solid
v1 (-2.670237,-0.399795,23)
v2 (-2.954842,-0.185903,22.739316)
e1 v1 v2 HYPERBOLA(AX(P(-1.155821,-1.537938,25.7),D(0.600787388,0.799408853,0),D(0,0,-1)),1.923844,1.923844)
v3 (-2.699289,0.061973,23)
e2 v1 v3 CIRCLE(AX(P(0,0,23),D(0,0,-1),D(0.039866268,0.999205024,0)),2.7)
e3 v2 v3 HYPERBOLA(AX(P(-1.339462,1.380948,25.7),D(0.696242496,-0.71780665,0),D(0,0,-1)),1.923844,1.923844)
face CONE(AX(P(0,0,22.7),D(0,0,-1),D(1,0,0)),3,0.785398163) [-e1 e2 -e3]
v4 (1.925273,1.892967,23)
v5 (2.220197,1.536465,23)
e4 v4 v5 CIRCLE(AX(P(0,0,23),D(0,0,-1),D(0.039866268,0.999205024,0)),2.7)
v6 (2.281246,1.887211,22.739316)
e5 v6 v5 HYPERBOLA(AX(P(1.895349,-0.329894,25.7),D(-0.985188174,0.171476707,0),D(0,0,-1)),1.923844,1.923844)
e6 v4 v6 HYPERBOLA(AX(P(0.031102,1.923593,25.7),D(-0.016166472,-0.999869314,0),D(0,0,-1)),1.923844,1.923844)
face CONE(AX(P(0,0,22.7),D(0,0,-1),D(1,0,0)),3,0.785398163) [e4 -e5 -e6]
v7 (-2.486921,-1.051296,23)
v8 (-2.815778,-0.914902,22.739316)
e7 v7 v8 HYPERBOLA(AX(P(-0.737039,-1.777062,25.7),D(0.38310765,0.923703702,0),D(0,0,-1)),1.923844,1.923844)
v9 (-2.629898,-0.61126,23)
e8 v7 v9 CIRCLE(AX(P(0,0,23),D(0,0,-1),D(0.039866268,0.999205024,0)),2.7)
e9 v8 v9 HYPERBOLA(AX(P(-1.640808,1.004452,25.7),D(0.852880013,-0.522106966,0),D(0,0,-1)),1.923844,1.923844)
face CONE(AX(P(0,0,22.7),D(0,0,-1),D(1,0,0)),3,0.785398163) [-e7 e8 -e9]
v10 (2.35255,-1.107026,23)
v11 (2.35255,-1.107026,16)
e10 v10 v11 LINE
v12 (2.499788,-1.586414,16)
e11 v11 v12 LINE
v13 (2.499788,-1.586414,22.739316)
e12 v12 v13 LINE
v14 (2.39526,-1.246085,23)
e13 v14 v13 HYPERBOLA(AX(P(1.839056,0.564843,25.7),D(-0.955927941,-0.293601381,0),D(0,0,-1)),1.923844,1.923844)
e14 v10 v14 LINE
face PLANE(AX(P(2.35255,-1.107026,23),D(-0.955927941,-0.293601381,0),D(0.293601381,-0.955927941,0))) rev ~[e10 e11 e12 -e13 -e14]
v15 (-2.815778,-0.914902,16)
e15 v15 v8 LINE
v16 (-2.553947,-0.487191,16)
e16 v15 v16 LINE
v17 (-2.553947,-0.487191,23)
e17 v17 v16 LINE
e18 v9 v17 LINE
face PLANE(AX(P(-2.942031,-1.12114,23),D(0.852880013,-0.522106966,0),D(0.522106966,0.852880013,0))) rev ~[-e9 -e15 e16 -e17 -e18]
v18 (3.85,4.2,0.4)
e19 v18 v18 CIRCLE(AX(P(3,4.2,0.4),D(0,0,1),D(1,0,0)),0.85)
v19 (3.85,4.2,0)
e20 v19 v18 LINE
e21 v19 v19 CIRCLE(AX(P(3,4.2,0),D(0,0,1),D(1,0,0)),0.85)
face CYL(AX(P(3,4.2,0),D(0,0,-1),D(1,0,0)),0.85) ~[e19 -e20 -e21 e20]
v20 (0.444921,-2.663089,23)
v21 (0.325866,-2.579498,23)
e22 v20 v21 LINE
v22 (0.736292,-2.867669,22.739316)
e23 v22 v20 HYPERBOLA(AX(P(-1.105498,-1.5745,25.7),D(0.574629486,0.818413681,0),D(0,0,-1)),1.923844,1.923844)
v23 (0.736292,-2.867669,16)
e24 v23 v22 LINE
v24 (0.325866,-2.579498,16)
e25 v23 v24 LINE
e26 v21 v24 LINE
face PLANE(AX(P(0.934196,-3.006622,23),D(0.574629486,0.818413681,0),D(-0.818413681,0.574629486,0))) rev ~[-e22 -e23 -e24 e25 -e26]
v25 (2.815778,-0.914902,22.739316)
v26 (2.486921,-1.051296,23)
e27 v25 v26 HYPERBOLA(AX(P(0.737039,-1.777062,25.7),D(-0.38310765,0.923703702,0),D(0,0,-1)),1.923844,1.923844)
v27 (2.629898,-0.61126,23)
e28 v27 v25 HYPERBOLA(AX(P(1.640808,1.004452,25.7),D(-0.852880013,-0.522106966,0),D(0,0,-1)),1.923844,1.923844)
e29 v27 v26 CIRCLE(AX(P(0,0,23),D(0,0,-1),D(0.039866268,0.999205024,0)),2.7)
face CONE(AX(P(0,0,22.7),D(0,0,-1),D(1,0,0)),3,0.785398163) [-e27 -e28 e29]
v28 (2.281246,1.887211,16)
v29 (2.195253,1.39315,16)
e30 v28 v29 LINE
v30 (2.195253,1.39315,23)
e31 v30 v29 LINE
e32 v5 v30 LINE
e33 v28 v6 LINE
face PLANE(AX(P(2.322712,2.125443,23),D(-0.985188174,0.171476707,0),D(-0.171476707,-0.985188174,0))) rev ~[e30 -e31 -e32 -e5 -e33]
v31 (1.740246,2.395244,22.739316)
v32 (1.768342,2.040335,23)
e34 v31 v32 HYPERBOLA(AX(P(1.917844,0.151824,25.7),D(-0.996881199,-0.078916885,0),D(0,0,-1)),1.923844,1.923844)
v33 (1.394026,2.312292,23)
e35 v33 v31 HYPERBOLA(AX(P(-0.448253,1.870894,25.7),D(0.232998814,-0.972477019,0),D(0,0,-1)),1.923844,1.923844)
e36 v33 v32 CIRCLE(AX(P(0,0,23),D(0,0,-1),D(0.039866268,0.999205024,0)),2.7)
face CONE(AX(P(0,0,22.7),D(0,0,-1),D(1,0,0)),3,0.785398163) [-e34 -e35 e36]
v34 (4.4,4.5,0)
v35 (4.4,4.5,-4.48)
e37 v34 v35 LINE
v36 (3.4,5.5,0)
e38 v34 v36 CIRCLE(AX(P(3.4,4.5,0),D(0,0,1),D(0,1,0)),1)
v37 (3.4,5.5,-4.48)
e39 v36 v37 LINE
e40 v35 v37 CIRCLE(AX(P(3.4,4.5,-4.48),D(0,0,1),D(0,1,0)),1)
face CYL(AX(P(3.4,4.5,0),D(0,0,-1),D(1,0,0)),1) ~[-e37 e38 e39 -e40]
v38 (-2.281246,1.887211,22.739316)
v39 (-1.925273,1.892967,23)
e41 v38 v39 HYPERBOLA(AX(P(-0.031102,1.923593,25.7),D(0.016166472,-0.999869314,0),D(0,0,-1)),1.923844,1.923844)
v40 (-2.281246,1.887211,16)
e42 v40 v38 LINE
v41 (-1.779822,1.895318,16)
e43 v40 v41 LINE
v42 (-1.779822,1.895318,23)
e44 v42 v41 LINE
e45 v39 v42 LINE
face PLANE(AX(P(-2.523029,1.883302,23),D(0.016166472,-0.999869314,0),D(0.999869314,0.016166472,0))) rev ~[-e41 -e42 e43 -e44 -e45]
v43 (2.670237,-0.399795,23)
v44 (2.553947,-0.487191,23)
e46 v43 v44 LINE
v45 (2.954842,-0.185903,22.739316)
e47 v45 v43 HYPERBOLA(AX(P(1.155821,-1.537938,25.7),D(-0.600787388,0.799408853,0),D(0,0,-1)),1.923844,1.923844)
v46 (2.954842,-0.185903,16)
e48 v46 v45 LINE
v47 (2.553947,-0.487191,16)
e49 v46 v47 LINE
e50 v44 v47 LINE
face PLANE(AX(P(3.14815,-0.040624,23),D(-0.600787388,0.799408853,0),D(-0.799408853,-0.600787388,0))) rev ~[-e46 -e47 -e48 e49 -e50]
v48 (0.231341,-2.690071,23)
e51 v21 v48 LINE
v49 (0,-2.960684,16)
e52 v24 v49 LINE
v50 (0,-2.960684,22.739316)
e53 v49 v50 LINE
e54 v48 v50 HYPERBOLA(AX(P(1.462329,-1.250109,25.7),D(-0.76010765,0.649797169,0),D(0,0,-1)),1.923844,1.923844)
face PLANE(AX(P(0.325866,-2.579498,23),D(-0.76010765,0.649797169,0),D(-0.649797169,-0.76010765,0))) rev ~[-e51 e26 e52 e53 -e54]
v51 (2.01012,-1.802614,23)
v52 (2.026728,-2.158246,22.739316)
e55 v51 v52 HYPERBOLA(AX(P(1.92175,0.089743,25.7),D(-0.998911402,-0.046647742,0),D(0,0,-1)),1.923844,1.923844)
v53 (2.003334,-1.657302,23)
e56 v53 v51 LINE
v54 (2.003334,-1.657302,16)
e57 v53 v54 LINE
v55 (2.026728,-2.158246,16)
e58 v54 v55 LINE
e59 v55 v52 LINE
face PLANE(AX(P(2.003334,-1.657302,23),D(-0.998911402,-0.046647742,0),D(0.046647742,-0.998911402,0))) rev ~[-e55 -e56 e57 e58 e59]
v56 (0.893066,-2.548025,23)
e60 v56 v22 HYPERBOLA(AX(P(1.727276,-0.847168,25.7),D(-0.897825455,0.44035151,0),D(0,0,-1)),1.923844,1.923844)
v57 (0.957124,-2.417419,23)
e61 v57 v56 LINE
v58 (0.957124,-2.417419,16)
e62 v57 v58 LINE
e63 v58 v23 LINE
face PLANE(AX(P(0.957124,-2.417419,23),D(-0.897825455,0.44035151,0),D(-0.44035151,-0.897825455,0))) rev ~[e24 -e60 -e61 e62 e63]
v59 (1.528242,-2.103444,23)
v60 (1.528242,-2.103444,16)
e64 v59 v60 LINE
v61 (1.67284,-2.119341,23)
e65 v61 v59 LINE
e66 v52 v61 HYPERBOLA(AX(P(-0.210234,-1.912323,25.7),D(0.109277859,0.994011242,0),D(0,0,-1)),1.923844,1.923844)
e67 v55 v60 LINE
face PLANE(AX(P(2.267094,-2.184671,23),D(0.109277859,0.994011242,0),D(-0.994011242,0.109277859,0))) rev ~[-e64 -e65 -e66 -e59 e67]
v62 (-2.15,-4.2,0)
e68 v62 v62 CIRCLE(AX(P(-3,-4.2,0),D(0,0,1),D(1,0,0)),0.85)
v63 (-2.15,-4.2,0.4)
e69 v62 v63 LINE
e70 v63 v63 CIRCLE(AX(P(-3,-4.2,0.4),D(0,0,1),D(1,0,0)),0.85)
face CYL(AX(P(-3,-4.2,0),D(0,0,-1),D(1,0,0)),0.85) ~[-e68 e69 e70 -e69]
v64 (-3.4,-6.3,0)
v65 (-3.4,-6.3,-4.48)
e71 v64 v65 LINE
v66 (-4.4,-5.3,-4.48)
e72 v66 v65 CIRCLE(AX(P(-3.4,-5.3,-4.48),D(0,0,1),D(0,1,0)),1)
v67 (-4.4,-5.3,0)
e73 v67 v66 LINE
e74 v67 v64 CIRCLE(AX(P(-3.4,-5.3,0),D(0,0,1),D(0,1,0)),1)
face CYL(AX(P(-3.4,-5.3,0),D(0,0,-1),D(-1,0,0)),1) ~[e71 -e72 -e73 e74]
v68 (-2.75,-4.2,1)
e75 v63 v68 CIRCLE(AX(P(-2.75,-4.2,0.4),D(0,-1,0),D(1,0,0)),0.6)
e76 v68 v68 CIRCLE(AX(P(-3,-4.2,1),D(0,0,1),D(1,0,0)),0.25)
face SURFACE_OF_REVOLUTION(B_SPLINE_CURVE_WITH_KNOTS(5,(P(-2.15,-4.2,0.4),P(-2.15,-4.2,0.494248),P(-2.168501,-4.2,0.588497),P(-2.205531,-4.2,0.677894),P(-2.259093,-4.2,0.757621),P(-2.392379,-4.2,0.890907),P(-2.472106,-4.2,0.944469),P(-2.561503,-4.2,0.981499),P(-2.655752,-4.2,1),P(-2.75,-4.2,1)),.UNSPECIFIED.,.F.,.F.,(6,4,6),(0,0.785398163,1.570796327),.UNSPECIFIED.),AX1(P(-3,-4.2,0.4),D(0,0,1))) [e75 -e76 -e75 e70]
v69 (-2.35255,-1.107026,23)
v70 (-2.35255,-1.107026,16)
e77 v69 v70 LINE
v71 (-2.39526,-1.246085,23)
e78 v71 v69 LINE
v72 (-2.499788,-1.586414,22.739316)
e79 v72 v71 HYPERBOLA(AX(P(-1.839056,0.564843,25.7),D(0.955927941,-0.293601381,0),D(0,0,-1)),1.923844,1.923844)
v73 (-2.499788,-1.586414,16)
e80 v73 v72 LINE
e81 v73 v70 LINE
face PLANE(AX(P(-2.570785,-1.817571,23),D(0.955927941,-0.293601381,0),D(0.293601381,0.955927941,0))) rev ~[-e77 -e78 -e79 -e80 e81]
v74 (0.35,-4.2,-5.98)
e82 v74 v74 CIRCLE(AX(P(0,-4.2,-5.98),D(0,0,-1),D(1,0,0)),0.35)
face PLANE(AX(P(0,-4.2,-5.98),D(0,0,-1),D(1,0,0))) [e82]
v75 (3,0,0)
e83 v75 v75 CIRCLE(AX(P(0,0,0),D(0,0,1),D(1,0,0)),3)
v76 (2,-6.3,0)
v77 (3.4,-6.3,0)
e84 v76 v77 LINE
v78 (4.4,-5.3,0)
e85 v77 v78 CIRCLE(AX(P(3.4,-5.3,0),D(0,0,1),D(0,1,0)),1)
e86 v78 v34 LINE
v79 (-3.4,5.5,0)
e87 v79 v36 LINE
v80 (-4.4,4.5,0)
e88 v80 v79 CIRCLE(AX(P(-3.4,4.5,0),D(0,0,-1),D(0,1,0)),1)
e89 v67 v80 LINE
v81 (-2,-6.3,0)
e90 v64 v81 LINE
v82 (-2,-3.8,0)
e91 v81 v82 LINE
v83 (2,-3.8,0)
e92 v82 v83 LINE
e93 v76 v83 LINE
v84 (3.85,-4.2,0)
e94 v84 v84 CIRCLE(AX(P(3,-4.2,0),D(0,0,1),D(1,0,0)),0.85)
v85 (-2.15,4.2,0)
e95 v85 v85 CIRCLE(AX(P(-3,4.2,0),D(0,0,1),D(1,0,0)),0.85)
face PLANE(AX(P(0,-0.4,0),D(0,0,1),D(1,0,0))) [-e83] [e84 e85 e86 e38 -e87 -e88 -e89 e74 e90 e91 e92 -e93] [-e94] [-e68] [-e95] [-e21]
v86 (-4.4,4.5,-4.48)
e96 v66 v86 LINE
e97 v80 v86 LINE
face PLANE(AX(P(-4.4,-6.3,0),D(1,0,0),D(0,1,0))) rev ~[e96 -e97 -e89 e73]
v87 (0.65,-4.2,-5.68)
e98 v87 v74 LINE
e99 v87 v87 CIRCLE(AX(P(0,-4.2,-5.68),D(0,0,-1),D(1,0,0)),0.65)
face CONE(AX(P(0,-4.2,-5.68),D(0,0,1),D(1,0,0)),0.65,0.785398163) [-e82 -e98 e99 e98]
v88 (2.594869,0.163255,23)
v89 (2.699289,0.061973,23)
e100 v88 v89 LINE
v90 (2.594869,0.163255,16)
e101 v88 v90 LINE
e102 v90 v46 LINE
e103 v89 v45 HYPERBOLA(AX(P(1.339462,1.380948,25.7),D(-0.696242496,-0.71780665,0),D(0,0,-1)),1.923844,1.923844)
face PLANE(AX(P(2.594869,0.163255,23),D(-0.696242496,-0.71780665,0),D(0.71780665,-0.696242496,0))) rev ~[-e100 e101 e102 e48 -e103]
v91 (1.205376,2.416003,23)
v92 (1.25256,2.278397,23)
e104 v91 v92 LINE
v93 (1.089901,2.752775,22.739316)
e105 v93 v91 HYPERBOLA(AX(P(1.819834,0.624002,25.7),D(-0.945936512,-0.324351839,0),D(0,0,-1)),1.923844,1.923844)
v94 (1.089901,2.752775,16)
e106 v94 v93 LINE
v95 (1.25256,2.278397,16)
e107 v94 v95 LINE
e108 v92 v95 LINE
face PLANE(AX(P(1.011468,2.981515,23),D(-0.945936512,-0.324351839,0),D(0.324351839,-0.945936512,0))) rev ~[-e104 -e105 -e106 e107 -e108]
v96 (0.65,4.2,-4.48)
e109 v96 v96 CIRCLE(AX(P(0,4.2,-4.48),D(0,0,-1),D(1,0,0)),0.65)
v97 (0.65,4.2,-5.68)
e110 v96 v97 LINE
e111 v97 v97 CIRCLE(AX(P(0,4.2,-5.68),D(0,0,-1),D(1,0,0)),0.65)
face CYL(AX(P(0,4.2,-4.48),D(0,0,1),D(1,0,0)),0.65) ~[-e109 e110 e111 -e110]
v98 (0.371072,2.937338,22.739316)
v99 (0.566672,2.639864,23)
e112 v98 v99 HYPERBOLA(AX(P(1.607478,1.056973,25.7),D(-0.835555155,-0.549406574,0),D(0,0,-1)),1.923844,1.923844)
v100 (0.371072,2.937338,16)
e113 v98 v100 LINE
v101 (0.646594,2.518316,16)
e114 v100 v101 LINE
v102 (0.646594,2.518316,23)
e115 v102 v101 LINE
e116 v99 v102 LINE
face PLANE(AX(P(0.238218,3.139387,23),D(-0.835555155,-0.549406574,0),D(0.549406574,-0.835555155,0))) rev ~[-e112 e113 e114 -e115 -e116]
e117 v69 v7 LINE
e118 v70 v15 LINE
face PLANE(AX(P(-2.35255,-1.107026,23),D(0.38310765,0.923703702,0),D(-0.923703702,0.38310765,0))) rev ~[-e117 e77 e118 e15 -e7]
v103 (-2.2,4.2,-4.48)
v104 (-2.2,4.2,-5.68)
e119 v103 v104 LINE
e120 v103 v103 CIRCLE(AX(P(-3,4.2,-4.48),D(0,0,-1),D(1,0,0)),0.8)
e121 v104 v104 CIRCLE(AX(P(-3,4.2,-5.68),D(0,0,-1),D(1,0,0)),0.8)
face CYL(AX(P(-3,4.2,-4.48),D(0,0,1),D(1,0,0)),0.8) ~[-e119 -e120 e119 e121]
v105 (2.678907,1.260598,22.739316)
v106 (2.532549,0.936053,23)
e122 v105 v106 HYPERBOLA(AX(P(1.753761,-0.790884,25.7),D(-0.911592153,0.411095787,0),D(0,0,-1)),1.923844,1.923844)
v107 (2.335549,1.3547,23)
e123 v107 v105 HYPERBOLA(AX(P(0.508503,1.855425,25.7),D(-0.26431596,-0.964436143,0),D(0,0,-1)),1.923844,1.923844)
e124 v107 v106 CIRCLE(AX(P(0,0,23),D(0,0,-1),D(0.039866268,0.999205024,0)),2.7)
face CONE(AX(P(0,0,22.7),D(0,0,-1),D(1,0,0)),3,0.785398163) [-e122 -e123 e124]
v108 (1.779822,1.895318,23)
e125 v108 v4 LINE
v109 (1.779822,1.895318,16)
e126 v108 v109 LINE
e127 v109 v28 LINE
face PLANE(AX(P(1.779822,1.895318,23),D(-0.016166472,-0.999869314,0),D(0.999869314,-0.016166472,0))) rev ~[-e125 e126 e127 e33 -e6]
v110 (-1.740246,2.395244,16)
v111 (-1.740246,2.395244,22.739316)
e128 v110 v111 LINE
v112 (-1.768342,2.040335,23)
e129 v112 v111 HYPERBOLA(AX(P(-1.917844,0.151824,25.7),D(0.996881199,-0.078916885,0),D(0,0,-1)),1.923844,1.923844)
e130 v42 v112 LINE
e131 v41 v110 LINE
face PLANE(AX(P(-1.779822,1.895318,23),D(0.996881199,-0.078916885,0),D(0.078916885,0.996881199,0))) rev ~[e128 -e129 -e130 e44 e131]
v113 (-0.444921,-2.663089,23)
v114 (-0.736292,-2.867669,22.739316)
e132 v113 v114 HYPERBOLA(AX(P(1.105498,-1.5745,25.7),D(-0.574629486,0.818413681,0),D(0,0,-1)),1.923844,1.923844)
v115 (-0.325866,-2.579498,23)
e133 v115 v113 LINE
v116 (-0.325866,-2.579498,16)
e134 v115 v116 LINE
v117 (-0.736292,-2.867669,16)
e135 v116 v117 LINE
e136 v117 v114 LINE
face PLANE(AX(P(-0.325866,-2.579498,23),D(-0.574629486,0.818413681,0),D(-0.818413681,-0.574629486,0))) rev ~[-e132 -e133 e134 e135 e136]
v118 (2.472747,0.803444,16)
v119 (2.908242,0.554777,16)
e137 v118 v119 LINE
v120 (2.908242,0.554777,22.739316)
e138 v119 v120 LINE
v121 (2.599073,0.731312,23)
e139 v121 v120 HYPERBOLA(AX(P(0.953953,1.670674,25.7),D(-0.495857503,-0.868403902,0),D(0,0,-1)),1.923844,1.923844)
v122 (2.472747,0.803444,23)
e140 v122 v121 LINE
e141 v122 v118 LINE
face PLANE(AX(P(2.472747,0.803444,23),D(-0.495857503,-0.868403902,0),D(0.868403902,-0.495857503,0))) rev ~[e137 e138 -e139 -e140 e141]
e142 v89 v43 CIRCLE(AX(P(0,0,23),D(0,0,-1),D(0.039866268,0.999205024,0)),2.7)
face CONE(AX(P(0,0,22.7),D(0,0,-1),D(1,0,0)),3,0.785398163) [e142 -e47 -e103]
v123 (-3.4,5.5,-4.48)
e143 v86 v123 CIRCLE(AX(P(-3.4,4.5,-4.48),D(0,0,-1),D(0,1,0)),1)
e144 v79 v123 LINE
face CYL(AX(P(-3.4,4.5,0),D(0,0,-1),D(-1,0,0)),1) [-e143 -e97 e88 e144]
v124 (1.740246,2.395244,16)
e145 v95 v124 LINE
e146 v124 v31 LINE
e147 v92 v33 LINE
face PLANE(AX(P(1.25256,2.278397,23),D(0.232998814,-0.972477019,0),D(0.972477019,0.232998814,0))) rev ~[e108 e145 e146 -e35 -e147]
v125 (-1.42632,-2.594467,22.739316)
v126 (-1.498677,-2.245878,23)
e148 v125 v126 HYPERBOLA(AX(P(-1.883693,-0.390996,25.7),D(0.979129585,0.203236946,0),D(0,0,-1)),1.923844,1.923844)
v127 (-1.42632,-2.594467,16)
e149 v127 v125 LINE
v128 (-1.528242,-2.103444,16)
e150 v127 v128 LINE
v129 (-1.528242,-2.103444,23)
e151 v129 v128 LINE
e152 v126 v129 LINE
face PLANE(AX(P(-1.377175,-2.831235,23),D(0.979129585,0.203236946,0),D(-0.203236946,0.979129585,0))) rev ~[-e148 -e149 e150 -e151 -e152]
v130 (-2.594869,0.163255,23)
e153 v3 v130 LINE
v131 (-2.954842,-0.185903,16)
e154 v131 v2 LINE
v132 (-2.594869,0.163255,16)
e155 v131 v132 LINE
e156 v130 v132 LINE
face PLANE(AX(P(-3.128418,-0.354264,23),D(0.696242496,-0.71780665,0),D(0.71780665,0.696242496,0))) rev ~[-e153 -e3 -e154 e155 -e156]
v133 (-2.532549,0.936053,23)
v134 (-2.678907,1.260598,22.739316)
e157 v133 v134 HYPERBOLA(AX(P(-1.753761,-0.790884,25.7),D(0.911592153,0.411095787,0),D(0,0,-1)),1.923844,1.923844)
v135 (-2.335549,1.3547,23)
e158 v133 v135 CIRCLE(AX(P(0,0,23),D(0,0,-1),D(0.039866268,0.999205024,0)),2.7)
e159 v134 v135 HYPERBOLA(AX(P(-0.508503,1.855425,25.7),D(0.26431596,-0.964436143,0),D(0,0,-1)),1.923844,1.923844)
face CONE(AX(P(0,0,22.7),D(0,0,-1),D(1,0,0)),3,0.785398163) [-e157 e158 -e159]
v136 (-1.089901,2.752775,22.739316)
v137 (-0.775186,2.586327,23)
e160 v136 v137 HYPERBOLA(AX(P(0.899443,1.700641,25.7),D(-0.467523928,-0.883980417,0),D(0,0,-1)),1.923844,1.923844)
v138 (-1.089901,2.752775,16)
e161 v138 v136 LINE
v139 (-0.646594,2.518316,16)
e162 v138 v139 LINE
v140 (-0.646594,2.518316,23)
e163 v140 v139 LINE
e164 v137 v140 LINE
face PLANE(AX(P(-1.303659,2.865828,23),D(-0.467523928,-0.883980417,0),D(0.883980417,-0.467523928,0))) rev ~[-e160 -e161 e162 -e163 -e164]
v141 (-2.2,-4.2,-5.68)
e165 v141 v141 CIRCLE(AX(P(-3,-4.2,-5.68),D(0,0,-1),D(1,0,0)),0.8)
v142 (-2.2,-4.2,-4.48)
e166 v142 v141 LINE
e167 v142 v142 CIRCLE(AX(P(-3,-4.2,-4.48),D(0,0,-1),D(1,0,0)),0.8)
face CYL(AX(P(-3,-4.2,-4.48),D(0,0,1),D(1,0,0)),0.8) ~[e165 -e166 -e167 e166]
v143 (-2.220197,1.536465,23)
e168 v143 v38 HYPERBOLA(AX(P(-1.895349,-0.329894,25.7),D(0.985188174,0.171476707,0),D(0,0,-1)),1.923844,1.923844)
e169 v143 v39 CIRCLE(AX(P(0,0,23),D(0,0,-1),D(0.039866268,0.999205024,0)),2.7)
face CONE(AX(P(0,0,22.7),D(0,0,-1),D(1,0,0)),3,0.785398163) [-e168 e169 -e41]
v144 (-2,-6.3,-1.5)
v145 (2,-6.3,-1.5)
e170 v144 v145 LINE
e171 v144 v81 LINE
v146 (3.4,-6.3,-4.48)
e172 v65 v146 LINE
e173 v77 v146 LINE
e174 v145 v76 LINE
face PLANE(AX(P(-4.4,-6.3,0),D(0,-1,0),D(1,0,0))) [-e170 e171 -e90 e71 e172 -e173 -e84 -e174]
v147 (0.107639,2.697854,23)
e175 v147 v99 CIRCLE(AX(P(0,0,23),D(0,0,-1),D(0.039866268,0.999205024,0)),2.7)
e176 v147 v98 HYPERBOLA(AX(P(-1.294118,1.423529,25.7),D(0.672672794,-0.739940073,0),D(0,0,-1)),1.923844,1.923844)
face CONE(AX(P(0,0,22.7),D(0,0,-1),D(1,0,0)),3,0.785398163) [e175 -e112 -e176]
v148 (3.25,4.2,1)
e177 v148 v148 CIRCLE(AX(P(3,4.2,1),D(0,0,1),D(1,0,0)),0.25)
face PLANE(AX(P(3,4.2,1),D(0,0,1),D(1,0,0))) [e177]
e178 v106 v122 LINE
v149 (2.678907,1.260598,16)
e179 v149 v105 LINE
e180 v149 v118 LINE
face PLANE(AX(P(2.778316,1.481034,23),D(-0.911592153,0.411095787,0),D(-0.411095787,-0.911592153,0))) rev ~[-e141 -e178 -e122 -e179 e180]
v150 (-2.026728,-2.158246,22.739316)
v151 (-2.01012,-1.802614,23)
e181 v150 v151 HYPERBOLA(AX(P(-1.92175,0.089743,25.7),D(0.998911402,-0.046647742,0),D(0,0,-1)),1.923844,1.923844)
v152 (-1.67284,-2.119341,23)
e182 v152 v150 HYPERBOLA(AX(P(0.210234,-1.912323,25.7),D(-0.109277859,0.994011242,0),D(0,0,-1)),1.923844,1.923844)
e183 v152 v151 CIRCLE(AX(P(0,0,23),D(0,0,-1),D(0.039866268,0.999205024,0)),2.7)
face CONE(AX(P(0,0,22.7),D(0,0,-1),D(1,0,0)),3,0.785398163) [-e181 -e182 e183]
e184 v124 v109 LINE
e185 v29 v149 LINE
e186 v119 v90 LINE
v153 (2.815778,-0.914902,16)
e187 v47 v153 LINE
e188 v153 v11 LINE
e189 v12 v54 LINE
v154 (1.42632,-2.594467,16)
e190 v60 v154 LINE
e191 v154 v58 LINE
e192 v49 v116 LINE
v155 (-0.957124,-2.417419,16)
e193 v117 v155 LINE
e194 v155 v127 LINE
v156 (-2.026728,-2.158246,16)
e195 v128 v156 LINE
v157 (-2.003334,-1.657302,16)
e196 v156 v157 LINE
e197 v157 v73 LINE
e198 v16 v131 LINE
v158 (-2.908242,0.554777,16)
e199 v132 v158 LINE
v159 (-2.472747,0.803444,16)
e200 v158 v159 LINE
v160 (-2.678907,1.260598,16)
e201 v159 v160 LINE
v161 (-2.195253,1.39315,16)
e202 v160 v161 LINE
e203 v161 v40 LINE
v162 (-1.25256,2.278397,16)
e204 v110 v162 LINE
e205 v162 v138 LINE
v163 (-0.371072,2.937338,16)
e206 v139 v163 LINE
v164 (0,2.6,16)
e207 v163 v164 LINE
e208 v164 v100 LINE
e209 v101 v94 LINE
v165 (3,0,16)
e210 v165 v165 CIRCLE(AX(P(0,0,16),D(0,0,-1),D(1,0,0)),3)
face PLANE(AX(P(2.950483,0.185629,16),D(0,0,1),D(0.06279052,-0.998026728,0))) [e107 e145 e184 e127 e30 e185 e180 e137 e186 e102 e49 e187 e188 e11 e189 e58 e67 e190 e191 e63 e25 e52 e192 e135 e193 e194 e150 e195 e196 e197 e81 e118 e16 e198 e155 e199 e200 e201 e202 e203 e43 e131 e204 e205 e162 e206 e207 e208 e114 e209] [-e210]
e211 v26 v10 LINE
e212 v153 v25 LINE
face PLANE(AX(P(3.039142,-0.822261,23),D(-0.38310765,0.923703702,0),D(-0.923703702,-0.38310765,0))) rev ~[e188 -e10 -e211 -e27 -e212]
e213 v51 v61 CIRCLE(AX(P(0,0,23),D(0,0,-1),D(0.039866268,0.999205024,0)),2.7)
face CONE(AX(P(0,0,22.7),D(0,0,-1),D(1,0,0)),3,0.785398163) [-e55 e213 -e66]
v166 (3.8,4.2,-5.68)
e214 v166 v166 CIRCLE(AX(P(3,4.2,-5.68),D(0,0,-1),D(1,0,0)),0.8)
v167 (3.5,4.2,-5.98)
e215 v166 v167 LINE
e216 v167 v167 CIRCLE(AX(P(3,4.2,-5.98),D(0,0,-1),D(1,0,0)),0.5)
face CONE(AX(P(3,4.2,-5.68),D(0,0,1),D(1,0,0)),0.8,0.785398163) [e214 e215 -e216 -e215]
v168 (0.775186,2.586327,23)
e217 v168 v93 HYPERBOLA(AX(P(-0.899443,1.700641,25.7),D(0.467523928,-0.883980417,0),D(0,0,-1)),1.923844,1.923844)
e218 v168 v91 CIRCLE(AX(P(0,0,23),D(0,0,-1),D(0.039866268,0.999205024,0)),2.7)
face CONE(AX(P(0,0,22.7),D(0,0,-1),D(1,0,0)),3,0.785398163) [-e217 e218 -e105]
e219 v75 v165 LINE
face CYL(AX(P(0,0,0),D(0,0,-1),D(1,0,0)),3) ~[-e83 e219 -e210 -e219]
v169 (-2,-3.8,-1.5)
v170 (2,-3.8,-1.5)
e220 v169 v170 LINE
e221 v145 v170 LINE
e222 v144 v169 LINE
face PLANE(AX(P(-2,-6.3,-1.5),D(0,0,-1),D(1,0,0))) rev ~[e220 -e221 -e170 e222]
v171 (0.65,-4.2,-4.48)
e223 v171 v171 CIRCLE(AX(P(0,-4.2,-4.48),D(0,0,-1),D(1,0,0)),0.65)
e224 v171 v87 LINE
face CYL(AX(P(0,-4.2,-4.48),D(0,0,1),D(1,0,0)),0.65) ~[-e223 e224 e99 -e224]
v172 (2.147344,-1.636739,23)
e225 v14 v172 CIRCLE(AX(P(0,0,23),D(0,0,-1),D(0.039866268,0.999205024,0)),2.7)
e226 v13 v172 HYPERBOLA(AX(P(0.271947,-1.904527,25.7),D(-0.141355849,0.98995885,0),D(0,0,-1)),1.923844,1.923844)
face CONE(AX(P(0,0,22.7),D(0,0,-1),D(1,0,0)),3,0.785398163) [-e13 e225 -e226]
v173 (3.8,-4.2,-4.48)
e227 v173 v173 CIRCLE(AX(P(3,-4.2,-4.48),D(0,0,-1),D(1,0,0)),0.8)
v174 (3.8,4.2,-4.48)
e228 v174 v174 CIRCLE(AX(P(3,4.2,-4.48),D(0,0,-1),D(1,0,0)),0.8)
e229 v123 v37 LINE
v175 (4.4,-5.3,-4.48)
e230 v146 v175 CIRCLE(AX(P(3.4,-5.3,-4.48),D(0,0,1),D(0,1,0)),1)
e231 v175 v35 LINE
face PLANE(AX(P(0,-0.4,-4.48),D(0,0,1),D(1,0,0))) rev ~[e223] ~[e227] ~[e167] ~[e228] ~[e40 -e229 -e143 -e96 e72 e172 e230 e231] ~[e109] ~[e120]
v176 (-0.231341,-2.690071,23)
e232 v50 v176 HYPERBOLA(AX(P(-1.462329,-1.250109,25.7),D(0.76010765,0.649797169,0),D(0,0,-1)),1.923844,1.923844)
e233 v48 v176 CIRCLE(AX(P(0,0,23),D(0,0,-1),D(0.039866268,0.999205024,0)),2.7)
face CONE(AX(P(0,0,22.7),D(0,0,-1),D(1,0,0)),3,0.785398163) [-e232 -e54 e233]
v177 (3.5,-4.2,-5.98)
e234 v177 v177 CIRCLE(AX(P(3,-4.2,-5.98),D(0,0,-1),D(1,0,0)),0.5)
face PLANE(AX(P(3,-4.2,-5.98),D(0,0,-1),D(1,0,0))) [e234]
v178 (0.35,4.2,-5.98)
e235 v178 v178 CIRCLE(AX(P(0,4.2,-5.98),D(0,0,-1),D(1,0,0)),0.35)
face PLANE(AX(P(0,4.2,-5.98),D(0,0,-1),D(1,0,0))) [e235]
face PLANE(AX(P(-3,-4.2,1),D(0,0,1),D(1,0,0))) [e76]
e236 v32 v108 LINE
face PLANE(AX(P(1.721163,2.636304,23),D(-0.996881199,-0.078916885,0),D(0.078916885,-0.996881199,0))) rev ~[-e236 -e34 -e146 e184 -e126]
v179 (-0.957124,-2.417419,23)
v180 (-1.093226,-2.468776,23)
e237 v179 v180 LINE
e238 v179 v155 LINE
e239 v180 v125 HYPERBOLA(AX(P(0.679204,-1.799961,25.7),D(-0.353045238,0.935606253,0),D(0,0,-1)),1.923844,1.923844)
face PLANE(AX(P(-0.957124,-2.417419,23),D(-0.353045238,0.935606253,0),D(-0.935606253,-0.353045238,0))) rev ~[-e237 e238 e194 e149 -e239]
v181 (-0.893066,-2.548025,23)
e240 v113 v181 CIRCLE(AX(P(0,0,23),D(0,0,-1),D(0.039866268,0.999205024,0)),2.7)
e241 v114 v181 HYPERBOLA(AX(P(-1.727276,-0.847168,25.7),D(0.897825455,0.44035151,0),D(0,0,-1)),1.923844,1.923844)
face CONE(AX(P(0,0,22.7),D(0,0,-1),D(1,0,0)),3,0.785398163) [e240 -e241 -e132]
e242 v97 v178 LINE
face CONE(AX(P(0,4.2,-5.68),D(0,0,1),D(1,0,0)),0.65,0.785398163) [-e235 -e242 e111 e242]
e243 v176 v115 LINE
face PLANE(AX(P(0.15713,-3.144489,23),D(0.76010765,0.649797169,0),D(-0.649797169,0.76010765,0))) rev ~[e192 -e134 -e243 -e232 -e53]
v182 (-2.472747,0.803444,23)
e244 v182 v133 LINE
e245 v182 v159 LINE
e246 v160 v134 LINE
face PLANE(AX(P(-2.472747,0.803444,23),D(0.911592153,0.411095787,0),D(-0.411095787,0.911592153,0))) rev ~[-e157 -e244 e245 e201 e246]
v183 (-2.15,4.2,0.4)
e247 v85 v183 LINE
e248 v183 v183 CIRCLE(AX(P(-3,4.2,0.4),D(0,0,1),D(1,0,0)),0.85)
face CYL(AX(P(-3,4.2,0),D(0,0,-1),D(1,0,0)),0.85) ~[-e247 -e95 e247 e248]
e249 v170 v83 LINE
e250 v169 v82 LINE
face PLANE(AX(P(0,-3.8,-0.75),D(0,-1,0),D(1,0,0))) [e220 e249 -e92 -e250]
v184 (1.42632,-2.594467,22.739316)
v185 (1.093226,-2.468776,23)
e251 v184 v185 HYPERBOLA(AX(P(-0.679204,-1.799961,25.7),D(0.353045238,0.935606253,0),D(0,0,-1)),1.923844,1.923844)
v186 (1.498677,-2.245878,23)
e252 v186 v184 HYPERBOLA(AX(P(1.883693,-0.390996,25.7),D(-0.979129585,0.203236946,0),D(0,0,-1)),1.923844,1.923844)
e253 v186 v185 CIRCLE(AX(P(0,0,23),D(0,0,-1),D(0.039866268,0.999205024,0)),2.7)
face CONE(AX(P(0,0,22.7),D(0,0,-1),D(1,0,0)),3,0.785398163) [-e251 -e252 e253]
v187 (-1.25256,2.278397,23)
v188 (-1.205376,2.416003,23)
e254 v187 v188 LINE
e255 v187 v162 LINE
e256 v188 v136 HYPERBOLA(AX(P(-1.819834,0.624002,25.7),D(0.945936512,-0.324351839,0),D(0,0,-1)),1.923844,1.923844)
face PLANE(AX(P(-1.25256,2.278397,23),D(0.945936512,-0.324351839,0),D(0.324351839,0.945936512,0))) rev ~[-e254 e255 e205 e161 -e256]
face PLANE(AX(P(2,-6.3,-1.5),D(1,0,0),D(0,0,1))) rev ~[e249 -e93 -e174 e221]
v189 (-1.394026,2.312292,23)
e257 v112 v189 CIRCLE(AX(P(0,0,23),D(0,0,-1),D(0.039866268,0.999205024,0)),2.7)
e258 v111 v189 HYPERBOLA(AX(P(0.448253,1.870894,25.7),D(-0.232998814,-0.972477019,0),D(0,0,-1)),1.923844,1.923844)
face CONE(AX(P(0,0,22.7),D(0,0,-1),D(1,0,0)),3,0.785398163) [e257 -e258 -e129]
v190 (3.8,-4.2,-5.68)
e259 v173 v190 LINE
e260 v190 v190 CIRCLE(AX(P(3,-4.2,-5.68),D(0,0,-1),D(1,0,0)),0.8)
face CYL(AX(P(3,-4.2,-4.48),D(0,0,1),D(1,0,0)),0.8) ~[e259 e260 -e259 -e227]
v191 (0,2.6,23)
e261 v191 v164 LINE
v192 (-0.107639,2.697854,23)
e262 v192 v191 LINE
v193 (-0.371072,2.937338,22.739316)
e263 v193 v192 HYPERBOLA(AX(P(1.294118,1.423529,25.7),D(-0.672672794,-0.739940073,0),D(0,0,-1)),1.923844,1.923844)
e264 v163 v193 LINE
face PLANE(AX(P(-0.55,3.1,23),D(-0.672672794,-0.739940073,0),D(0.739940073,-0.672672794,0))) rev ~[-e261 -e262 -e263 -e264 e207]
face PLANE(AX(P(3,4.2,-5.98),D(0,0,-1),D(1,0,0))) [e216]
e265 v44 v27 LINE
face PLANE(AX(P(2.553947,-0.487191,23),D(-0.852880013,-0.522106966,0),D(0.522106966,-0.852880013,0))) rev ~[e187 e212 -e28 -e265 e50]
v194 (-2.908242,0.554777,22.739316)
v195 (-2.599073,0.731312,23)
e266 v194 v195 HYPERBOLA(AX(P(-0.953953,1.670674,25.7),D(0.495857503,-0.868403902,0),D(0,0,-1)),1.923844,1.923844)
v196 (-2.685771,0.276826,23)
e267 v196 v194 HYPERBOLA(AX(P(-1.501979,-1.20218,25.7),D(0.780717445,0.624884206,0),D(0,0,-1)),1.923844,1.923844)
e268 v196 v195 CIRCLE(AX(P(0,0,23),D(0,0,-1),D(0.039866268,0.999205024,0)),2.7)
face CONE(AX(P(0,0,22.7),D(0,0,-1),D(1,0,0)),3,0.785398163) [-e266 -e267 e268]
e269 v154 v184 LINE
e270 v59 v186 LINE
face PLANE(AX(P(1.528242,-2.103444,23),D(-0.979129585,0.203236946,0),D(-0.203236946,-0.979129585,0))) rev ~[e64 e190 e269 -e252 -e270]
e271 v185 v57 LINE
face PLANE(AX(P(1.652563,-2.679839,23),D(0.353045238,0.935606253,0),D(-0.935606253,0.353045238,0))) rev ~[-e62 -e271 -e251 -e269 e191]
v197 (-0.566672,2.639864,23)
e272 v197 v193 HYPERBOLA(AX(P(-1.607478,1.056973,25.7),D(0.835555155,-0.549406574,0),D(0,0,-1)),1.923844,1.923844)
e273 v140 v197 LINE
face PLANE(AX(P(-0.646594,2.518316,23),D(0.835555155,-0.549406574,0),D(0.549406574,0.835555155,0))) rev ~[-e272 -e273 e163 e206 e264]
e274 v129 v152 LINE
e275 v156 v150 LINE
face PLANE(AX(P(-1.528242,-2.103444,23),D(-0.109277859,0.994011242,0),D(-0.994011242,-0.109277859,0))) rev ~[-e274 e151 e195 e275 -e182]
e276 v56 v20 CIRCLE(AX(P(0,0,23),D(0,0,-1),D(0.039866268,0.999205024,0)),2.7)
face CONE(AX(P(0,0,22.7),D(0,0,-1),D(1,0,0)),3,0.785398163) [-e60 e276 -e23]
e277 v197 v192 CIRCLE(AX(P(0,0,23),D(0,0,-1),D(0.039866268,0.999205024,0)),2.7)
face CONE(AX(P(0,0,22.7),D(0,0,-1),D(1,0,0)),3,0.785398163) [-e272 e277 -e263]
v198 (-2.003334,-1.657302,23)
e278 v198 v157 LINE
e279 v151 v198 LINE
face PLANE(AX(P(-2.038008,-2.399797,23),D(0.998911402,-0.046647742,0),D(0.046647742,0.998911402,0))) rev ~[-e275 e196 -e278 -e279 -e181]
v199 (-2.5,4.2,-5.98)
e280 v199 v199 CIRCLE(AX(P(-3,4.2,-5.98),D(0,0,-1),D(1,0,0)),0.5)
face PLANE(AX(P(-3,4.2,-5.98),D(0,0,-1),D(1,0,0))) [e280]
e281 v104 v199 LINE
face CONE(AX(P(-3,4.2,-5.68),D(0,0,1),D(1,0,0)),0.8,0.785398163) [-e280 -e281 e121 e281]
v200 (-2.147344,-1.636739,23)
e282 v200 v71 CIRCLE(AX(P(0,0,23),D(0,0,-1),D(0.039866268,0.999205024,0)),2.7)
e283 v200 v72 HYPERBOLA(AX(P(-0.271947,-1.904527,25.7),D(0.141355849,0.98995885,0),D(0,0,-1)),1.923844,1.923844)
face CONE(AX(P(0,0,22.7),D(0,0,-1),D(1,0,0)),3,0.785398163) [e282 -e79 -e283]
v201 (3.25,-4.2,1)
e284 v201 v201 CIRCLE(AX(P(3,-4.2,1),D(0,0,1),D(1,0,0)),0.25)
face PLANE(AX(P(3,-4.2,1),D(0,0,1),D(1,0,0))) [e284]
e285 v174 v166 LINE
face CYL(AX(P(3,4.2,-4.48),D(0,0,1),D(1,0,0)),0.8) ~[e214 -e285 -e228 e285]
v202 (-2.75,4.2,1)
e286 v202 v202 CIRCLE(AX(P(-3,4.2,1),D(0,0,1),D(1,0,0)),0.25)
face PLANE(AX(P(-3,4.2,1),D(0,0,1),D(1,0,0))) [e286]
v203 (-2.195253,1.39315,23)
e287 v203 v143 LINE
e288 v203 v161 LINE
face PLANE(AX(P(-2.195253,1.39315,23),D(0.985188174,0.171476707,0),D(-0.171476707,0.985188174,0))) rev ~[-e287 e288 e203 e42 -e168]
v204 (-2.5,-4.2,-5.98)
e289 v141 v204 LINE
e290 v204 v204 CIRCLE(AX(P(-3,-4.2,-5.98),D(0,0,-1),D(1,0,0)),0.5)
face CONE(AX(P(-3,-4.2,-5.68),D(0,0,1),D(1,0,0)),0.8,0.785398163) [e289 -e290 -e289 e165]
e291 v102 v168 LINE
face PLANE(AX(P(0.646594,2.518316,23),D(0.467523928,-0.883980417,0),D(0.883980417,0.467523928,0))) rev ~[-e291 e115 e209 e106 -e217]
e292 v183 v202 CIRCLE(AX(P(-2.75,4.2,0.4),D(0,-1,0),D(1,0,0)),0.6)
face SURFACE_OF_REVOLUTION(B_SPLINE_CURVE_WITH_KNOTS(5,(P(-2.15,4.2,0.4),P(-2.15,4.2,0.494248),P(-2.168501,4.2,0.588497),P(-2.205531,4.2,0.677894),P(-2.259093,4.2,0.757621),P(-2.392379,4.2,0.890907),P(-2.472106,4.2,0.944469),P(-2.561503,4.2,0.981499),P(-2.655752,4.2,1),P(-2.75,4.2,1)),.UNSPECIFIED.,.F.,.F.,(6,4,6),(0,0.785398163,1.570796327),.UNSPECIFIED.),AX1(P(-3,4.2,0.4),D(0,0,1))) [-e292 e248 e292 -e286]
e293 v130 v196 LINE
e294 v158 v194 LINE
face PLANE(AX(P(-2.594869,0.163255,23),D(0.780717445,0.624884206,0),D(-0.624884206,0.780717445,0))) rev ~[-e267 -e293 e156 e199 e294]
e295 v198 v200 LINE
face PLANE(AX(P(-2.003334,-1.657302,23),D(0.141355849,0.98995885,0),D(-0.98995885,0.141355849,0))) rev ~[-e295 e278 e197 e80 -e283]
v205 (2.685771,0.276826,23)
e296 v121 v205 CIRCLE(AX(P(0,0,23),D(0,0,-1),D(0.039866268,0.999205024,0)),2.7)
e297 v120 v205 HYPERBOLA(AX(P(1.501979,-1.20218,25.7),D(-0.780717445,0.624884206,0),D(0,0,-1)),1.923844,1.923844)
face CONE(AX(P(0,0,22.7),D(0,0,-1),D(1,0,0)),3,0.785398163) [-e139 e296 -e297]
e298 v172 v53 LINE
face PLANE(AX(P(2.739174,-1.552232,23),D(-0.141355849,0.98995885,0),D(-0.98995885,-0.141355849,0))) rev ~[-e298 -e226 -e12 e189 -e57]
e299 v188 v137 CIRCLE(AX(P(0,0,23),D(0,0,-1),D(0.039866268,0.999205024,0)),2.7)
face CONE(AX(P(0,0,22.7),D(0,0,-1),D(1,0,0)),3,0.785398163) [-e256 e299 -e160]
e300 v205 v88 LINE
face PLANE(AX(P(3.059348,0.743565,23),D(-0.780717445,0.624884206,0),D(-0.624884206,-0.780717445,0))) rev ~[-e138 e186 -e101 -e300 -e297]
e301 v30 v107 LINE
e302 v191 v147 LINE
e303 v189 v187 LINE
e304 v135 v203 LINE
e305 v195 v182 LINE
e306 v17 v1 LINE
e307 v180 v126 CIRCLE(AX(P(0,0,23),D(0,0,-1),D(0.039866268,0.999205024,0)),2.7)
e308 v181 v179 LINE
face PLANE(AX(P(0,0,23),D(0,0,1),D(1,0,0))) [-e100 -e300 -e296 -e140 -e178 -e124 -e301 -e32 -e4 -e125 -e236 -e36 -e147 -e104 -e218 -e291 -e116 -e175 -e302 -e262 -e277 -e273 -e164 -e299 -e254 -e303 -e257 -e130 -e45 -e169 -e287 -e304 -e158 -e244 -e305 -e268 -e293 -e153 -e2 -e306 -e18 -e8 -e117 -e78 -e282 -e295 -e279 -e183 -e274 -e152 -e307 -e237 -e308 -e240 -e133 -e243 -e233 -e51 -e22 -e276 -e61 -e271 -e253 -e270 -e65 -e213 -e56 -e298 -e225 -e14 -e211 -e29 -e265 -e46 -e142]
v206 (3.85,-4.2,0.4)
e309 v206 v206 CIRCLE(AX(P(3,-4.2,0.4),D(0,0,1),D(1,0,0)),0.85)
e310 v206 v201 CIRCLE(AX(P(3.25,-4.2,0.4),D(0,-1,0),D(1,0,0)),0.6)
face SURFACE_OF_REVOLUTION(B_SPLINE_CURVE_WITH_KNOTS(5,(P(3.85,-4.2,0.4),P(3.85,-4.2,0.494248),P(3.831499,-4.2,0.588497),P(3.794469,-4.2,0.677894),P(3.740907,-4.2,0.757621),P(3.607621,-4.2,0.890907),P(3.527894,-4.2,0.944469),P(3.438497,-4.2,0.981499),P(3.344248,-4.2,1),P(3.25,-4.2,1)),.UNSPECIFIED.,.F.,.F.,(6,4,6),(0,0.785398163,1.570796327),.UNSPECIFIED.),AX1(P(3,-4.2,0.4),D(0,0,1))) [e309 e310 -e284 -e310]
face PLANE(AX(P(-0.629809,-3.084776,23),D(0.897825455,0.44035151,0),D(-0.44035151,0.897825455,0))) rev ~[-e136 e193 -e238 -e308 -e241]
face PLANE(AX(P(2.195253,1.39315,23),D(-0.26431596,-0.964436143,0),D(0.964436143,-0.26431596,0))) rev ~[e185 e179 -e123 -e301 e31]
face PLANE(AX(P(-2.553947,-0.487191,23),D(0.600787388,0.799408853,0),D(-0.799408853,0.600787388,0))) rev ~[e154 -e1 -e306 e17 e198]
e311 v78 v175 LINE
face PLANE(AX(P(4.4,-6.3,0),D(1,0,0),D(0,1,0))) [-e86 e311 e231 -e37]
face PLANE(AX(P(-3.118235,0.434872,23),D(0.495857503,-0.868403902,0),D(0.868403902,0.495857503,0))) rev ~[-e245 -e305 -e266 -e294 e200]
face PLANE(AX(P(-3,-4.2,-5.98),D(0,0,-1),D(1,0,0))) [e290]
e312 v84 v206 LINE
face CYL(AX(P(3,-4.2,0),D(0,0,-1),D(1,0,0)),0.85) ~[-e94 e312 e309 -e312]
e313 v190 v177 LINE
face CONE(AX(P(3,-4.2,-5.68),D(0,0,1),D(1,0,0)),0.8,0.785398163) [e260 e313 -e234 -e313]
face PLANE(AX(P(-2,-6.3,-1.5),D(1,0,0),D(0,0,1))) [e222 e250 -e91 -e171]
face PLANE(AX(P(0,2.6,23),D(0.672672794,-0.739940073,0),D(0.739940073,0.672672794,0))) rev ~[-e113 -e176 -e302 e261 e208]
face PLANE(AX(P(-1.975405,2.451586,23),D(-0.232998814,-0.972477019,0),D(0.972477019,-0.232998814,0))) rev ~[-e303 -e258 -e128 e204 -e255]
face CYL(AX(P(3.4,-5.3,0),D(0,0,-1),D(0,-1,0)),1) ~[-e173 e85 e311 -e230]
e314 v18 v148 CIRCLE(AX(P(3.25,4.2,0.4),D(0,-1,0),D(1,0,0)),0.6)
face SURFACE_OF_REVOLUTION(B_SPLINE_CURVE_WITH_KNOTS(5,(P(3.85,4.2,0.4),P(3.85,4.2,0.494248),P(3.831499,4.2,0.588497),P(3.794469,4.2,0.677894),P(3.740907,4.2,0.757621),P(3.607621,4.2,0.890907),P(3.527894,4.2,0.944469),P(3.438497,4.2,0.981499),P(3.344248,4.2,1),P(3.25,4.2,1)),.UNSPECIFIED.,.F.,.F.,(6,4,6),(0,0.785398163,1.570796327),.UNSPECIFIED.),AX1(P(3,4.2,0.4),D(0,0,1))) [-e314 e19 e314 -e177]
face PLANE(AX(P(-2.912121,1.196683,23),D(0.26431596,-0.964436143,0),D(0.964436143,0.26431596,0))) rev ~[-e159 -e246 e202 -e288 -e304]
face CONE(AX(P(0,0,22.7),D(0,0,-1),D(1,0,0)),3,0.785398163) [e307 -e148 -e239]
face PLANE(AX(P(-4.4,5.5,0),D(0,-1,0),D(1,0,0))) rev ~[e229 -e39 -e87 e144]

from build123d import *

# Parameters (mm, degrees)
SKETCH_W           = 8.8
SKETCH_H           = 11.8
PAD_DEPTH          = 4.48
FILLET_R           = 1
SKETCH001_R        = 0.85
PAD001_DEPTH       = 1
FILLET001_R        = 0.6
SKETCH002_R        = 3
PAD002_DEPTH       = 23
CHAMFER_SIZE       = 0.3
POCKET_DEPTH       = 7
POLARPATTERN_COUNT = 25
SKETCH004_R        = 0.8
SKETCH004_R_2      = 0.65
PAD003_DEPTH       = 1.5
CHAMFER001_SIZE    = 0.3
SKETCH010_W        = 4
SKETCH010_H        = 1.5
POCKET004_DEPTH    = 2.5


with BuildPart() as part:
    # Sketch → Pad (new body)
    with BuildSketch(Plane.XY):
        with Locations((0, -0.4)):
            Rectangle(SKETCH_W, SKETCH_H)
    extrude(amount=-PAD_DEPTH)

    # Fillet
    fillet_edges = [part.edges().sort_by_distance(p)[0] for p in [
        (-4.4, 5.5, -2.24),
        (-4.4, -6.3, -2.24),
        (4.4, -6.3, -2.24),
        (4.4, 5.5, -2.24),
    ]]
    fillet(fillet_edges, radius=FILLET_R)

    # Sketch001 (on Face2 of Fillet) → Pad001 (join)
    with BuildSketch(Plane.XY):
        with Locations((-3, 4.2)):
            Circle(SKETCH001_R)
        with Locations((3, 4.2)):
            Circle(SKETCH001_R)
        with Locations((3, -4.2)):
            Circle(SKETCH001_R)
        with Locations((-3, -4.2)):
            Circle(SKETCH001_R)
    extrude(amount=PAD001_DEPTH)

    # Fillet001
    fillet001_edges = [part.edges().sort_by_distance(p)[0] for p in [
        (-3.85, -4.2, 1),
        (-3.85, 4.2, 1),
        (2.15, 4.2, 1),
        (2.15, -4.2, 1),
    ]]
    fillet(fillet001_edges, radius=FILLET001_R)

    # Sketch002 (on Face3 of Fillet001) → Pad002 (join)
    with BuildSketch(Plane.XY):
        Circle(SKETCH002_R)
    extrude(amount=PAD002_DEPTH)

    # Chamfer
    chamfer_edges = [part.edges().sort_by_distance(p)[0] for p in [
        (-3, 0, 23),
    ]]
    chamfer(chamfer_edges, length=CHAMFER_SIZE)

    # Sketch003 (on Face20 of Pad002) → Pocket (cut)
    with BuildSketch(Plane.XY.offset(23)):
        Polygon((-0.55, 3.1), (0, 2.6), (0.55, 3.1), align=None)
    pocket = extrude(amount=-POCKET_DEPTH, mode=Mode.SUBTRACT)

    # PolarPattern: Pocket ×25 about axis
    polarpattern_axis = Axis((0, 0, 23), (0, 0, 1))
    for i in range(1, POLARPATTERN_COUNT):
        add(pocket.rotate(polarpattern_axis, i * 360 / POLARPATTERN_COUNT), mode=Mode.SUBTRACT)

    # Sketch004 (on Face126 of PolarPattern) → Pad003 (join)
    with BuildSketch(Plane(origin=(0, 0, -4.48), x_dir=(1, 0, 0), z_dir=(0, 0, -1))):
        with Locations((-3, 4.2)):
            Circle(SKETCH004_R)
        with Locations((3, 4.2)):
            Circle(SKETCH004_R)
        with Locations((3, -4.2)):
            Circle(SKETCH004_R)
        with Locations((-3, -4.2)):
            Circle(SKETCH004_R)
        with Locations((0, -4.2)):
            Circle(SKETCH004_R_2)
        with Locations((0, 4.2)):
            Circle(SKETCH004_R_2)
    extrude(amount=PAD003_DEPTH)

    # Chamfer001
    chamfer001_edges = [part.edges().sort_by_distance(p)[0] for p in [
        (2.2, -4.2, -5.98),
        (-0.65, -4.2, -5.98),
        (-3.8, -4.2, -5.98),
        (-3.8, 4.2, -5.98),
        (-0.65, 4.2, -5.98),
        (2.2, 4.2, -5.98),
    ]]
    chamfer(chamfer001_edges, length=CHAMFER001_SIZE)

    # Sketch010 (on Face12 of Chamfer001) → Pocket004 (cut)
    with BuildSketch(Plane.XZ.offset(6.3)):
        with Locations((0, -0.75)):
            Rectangle(SKETCH010_W, SKETCH010_H)
    extrude(amount=-POCKET004_DEPTH, mode=Mode.SUBTRACT)


solid = part.part
